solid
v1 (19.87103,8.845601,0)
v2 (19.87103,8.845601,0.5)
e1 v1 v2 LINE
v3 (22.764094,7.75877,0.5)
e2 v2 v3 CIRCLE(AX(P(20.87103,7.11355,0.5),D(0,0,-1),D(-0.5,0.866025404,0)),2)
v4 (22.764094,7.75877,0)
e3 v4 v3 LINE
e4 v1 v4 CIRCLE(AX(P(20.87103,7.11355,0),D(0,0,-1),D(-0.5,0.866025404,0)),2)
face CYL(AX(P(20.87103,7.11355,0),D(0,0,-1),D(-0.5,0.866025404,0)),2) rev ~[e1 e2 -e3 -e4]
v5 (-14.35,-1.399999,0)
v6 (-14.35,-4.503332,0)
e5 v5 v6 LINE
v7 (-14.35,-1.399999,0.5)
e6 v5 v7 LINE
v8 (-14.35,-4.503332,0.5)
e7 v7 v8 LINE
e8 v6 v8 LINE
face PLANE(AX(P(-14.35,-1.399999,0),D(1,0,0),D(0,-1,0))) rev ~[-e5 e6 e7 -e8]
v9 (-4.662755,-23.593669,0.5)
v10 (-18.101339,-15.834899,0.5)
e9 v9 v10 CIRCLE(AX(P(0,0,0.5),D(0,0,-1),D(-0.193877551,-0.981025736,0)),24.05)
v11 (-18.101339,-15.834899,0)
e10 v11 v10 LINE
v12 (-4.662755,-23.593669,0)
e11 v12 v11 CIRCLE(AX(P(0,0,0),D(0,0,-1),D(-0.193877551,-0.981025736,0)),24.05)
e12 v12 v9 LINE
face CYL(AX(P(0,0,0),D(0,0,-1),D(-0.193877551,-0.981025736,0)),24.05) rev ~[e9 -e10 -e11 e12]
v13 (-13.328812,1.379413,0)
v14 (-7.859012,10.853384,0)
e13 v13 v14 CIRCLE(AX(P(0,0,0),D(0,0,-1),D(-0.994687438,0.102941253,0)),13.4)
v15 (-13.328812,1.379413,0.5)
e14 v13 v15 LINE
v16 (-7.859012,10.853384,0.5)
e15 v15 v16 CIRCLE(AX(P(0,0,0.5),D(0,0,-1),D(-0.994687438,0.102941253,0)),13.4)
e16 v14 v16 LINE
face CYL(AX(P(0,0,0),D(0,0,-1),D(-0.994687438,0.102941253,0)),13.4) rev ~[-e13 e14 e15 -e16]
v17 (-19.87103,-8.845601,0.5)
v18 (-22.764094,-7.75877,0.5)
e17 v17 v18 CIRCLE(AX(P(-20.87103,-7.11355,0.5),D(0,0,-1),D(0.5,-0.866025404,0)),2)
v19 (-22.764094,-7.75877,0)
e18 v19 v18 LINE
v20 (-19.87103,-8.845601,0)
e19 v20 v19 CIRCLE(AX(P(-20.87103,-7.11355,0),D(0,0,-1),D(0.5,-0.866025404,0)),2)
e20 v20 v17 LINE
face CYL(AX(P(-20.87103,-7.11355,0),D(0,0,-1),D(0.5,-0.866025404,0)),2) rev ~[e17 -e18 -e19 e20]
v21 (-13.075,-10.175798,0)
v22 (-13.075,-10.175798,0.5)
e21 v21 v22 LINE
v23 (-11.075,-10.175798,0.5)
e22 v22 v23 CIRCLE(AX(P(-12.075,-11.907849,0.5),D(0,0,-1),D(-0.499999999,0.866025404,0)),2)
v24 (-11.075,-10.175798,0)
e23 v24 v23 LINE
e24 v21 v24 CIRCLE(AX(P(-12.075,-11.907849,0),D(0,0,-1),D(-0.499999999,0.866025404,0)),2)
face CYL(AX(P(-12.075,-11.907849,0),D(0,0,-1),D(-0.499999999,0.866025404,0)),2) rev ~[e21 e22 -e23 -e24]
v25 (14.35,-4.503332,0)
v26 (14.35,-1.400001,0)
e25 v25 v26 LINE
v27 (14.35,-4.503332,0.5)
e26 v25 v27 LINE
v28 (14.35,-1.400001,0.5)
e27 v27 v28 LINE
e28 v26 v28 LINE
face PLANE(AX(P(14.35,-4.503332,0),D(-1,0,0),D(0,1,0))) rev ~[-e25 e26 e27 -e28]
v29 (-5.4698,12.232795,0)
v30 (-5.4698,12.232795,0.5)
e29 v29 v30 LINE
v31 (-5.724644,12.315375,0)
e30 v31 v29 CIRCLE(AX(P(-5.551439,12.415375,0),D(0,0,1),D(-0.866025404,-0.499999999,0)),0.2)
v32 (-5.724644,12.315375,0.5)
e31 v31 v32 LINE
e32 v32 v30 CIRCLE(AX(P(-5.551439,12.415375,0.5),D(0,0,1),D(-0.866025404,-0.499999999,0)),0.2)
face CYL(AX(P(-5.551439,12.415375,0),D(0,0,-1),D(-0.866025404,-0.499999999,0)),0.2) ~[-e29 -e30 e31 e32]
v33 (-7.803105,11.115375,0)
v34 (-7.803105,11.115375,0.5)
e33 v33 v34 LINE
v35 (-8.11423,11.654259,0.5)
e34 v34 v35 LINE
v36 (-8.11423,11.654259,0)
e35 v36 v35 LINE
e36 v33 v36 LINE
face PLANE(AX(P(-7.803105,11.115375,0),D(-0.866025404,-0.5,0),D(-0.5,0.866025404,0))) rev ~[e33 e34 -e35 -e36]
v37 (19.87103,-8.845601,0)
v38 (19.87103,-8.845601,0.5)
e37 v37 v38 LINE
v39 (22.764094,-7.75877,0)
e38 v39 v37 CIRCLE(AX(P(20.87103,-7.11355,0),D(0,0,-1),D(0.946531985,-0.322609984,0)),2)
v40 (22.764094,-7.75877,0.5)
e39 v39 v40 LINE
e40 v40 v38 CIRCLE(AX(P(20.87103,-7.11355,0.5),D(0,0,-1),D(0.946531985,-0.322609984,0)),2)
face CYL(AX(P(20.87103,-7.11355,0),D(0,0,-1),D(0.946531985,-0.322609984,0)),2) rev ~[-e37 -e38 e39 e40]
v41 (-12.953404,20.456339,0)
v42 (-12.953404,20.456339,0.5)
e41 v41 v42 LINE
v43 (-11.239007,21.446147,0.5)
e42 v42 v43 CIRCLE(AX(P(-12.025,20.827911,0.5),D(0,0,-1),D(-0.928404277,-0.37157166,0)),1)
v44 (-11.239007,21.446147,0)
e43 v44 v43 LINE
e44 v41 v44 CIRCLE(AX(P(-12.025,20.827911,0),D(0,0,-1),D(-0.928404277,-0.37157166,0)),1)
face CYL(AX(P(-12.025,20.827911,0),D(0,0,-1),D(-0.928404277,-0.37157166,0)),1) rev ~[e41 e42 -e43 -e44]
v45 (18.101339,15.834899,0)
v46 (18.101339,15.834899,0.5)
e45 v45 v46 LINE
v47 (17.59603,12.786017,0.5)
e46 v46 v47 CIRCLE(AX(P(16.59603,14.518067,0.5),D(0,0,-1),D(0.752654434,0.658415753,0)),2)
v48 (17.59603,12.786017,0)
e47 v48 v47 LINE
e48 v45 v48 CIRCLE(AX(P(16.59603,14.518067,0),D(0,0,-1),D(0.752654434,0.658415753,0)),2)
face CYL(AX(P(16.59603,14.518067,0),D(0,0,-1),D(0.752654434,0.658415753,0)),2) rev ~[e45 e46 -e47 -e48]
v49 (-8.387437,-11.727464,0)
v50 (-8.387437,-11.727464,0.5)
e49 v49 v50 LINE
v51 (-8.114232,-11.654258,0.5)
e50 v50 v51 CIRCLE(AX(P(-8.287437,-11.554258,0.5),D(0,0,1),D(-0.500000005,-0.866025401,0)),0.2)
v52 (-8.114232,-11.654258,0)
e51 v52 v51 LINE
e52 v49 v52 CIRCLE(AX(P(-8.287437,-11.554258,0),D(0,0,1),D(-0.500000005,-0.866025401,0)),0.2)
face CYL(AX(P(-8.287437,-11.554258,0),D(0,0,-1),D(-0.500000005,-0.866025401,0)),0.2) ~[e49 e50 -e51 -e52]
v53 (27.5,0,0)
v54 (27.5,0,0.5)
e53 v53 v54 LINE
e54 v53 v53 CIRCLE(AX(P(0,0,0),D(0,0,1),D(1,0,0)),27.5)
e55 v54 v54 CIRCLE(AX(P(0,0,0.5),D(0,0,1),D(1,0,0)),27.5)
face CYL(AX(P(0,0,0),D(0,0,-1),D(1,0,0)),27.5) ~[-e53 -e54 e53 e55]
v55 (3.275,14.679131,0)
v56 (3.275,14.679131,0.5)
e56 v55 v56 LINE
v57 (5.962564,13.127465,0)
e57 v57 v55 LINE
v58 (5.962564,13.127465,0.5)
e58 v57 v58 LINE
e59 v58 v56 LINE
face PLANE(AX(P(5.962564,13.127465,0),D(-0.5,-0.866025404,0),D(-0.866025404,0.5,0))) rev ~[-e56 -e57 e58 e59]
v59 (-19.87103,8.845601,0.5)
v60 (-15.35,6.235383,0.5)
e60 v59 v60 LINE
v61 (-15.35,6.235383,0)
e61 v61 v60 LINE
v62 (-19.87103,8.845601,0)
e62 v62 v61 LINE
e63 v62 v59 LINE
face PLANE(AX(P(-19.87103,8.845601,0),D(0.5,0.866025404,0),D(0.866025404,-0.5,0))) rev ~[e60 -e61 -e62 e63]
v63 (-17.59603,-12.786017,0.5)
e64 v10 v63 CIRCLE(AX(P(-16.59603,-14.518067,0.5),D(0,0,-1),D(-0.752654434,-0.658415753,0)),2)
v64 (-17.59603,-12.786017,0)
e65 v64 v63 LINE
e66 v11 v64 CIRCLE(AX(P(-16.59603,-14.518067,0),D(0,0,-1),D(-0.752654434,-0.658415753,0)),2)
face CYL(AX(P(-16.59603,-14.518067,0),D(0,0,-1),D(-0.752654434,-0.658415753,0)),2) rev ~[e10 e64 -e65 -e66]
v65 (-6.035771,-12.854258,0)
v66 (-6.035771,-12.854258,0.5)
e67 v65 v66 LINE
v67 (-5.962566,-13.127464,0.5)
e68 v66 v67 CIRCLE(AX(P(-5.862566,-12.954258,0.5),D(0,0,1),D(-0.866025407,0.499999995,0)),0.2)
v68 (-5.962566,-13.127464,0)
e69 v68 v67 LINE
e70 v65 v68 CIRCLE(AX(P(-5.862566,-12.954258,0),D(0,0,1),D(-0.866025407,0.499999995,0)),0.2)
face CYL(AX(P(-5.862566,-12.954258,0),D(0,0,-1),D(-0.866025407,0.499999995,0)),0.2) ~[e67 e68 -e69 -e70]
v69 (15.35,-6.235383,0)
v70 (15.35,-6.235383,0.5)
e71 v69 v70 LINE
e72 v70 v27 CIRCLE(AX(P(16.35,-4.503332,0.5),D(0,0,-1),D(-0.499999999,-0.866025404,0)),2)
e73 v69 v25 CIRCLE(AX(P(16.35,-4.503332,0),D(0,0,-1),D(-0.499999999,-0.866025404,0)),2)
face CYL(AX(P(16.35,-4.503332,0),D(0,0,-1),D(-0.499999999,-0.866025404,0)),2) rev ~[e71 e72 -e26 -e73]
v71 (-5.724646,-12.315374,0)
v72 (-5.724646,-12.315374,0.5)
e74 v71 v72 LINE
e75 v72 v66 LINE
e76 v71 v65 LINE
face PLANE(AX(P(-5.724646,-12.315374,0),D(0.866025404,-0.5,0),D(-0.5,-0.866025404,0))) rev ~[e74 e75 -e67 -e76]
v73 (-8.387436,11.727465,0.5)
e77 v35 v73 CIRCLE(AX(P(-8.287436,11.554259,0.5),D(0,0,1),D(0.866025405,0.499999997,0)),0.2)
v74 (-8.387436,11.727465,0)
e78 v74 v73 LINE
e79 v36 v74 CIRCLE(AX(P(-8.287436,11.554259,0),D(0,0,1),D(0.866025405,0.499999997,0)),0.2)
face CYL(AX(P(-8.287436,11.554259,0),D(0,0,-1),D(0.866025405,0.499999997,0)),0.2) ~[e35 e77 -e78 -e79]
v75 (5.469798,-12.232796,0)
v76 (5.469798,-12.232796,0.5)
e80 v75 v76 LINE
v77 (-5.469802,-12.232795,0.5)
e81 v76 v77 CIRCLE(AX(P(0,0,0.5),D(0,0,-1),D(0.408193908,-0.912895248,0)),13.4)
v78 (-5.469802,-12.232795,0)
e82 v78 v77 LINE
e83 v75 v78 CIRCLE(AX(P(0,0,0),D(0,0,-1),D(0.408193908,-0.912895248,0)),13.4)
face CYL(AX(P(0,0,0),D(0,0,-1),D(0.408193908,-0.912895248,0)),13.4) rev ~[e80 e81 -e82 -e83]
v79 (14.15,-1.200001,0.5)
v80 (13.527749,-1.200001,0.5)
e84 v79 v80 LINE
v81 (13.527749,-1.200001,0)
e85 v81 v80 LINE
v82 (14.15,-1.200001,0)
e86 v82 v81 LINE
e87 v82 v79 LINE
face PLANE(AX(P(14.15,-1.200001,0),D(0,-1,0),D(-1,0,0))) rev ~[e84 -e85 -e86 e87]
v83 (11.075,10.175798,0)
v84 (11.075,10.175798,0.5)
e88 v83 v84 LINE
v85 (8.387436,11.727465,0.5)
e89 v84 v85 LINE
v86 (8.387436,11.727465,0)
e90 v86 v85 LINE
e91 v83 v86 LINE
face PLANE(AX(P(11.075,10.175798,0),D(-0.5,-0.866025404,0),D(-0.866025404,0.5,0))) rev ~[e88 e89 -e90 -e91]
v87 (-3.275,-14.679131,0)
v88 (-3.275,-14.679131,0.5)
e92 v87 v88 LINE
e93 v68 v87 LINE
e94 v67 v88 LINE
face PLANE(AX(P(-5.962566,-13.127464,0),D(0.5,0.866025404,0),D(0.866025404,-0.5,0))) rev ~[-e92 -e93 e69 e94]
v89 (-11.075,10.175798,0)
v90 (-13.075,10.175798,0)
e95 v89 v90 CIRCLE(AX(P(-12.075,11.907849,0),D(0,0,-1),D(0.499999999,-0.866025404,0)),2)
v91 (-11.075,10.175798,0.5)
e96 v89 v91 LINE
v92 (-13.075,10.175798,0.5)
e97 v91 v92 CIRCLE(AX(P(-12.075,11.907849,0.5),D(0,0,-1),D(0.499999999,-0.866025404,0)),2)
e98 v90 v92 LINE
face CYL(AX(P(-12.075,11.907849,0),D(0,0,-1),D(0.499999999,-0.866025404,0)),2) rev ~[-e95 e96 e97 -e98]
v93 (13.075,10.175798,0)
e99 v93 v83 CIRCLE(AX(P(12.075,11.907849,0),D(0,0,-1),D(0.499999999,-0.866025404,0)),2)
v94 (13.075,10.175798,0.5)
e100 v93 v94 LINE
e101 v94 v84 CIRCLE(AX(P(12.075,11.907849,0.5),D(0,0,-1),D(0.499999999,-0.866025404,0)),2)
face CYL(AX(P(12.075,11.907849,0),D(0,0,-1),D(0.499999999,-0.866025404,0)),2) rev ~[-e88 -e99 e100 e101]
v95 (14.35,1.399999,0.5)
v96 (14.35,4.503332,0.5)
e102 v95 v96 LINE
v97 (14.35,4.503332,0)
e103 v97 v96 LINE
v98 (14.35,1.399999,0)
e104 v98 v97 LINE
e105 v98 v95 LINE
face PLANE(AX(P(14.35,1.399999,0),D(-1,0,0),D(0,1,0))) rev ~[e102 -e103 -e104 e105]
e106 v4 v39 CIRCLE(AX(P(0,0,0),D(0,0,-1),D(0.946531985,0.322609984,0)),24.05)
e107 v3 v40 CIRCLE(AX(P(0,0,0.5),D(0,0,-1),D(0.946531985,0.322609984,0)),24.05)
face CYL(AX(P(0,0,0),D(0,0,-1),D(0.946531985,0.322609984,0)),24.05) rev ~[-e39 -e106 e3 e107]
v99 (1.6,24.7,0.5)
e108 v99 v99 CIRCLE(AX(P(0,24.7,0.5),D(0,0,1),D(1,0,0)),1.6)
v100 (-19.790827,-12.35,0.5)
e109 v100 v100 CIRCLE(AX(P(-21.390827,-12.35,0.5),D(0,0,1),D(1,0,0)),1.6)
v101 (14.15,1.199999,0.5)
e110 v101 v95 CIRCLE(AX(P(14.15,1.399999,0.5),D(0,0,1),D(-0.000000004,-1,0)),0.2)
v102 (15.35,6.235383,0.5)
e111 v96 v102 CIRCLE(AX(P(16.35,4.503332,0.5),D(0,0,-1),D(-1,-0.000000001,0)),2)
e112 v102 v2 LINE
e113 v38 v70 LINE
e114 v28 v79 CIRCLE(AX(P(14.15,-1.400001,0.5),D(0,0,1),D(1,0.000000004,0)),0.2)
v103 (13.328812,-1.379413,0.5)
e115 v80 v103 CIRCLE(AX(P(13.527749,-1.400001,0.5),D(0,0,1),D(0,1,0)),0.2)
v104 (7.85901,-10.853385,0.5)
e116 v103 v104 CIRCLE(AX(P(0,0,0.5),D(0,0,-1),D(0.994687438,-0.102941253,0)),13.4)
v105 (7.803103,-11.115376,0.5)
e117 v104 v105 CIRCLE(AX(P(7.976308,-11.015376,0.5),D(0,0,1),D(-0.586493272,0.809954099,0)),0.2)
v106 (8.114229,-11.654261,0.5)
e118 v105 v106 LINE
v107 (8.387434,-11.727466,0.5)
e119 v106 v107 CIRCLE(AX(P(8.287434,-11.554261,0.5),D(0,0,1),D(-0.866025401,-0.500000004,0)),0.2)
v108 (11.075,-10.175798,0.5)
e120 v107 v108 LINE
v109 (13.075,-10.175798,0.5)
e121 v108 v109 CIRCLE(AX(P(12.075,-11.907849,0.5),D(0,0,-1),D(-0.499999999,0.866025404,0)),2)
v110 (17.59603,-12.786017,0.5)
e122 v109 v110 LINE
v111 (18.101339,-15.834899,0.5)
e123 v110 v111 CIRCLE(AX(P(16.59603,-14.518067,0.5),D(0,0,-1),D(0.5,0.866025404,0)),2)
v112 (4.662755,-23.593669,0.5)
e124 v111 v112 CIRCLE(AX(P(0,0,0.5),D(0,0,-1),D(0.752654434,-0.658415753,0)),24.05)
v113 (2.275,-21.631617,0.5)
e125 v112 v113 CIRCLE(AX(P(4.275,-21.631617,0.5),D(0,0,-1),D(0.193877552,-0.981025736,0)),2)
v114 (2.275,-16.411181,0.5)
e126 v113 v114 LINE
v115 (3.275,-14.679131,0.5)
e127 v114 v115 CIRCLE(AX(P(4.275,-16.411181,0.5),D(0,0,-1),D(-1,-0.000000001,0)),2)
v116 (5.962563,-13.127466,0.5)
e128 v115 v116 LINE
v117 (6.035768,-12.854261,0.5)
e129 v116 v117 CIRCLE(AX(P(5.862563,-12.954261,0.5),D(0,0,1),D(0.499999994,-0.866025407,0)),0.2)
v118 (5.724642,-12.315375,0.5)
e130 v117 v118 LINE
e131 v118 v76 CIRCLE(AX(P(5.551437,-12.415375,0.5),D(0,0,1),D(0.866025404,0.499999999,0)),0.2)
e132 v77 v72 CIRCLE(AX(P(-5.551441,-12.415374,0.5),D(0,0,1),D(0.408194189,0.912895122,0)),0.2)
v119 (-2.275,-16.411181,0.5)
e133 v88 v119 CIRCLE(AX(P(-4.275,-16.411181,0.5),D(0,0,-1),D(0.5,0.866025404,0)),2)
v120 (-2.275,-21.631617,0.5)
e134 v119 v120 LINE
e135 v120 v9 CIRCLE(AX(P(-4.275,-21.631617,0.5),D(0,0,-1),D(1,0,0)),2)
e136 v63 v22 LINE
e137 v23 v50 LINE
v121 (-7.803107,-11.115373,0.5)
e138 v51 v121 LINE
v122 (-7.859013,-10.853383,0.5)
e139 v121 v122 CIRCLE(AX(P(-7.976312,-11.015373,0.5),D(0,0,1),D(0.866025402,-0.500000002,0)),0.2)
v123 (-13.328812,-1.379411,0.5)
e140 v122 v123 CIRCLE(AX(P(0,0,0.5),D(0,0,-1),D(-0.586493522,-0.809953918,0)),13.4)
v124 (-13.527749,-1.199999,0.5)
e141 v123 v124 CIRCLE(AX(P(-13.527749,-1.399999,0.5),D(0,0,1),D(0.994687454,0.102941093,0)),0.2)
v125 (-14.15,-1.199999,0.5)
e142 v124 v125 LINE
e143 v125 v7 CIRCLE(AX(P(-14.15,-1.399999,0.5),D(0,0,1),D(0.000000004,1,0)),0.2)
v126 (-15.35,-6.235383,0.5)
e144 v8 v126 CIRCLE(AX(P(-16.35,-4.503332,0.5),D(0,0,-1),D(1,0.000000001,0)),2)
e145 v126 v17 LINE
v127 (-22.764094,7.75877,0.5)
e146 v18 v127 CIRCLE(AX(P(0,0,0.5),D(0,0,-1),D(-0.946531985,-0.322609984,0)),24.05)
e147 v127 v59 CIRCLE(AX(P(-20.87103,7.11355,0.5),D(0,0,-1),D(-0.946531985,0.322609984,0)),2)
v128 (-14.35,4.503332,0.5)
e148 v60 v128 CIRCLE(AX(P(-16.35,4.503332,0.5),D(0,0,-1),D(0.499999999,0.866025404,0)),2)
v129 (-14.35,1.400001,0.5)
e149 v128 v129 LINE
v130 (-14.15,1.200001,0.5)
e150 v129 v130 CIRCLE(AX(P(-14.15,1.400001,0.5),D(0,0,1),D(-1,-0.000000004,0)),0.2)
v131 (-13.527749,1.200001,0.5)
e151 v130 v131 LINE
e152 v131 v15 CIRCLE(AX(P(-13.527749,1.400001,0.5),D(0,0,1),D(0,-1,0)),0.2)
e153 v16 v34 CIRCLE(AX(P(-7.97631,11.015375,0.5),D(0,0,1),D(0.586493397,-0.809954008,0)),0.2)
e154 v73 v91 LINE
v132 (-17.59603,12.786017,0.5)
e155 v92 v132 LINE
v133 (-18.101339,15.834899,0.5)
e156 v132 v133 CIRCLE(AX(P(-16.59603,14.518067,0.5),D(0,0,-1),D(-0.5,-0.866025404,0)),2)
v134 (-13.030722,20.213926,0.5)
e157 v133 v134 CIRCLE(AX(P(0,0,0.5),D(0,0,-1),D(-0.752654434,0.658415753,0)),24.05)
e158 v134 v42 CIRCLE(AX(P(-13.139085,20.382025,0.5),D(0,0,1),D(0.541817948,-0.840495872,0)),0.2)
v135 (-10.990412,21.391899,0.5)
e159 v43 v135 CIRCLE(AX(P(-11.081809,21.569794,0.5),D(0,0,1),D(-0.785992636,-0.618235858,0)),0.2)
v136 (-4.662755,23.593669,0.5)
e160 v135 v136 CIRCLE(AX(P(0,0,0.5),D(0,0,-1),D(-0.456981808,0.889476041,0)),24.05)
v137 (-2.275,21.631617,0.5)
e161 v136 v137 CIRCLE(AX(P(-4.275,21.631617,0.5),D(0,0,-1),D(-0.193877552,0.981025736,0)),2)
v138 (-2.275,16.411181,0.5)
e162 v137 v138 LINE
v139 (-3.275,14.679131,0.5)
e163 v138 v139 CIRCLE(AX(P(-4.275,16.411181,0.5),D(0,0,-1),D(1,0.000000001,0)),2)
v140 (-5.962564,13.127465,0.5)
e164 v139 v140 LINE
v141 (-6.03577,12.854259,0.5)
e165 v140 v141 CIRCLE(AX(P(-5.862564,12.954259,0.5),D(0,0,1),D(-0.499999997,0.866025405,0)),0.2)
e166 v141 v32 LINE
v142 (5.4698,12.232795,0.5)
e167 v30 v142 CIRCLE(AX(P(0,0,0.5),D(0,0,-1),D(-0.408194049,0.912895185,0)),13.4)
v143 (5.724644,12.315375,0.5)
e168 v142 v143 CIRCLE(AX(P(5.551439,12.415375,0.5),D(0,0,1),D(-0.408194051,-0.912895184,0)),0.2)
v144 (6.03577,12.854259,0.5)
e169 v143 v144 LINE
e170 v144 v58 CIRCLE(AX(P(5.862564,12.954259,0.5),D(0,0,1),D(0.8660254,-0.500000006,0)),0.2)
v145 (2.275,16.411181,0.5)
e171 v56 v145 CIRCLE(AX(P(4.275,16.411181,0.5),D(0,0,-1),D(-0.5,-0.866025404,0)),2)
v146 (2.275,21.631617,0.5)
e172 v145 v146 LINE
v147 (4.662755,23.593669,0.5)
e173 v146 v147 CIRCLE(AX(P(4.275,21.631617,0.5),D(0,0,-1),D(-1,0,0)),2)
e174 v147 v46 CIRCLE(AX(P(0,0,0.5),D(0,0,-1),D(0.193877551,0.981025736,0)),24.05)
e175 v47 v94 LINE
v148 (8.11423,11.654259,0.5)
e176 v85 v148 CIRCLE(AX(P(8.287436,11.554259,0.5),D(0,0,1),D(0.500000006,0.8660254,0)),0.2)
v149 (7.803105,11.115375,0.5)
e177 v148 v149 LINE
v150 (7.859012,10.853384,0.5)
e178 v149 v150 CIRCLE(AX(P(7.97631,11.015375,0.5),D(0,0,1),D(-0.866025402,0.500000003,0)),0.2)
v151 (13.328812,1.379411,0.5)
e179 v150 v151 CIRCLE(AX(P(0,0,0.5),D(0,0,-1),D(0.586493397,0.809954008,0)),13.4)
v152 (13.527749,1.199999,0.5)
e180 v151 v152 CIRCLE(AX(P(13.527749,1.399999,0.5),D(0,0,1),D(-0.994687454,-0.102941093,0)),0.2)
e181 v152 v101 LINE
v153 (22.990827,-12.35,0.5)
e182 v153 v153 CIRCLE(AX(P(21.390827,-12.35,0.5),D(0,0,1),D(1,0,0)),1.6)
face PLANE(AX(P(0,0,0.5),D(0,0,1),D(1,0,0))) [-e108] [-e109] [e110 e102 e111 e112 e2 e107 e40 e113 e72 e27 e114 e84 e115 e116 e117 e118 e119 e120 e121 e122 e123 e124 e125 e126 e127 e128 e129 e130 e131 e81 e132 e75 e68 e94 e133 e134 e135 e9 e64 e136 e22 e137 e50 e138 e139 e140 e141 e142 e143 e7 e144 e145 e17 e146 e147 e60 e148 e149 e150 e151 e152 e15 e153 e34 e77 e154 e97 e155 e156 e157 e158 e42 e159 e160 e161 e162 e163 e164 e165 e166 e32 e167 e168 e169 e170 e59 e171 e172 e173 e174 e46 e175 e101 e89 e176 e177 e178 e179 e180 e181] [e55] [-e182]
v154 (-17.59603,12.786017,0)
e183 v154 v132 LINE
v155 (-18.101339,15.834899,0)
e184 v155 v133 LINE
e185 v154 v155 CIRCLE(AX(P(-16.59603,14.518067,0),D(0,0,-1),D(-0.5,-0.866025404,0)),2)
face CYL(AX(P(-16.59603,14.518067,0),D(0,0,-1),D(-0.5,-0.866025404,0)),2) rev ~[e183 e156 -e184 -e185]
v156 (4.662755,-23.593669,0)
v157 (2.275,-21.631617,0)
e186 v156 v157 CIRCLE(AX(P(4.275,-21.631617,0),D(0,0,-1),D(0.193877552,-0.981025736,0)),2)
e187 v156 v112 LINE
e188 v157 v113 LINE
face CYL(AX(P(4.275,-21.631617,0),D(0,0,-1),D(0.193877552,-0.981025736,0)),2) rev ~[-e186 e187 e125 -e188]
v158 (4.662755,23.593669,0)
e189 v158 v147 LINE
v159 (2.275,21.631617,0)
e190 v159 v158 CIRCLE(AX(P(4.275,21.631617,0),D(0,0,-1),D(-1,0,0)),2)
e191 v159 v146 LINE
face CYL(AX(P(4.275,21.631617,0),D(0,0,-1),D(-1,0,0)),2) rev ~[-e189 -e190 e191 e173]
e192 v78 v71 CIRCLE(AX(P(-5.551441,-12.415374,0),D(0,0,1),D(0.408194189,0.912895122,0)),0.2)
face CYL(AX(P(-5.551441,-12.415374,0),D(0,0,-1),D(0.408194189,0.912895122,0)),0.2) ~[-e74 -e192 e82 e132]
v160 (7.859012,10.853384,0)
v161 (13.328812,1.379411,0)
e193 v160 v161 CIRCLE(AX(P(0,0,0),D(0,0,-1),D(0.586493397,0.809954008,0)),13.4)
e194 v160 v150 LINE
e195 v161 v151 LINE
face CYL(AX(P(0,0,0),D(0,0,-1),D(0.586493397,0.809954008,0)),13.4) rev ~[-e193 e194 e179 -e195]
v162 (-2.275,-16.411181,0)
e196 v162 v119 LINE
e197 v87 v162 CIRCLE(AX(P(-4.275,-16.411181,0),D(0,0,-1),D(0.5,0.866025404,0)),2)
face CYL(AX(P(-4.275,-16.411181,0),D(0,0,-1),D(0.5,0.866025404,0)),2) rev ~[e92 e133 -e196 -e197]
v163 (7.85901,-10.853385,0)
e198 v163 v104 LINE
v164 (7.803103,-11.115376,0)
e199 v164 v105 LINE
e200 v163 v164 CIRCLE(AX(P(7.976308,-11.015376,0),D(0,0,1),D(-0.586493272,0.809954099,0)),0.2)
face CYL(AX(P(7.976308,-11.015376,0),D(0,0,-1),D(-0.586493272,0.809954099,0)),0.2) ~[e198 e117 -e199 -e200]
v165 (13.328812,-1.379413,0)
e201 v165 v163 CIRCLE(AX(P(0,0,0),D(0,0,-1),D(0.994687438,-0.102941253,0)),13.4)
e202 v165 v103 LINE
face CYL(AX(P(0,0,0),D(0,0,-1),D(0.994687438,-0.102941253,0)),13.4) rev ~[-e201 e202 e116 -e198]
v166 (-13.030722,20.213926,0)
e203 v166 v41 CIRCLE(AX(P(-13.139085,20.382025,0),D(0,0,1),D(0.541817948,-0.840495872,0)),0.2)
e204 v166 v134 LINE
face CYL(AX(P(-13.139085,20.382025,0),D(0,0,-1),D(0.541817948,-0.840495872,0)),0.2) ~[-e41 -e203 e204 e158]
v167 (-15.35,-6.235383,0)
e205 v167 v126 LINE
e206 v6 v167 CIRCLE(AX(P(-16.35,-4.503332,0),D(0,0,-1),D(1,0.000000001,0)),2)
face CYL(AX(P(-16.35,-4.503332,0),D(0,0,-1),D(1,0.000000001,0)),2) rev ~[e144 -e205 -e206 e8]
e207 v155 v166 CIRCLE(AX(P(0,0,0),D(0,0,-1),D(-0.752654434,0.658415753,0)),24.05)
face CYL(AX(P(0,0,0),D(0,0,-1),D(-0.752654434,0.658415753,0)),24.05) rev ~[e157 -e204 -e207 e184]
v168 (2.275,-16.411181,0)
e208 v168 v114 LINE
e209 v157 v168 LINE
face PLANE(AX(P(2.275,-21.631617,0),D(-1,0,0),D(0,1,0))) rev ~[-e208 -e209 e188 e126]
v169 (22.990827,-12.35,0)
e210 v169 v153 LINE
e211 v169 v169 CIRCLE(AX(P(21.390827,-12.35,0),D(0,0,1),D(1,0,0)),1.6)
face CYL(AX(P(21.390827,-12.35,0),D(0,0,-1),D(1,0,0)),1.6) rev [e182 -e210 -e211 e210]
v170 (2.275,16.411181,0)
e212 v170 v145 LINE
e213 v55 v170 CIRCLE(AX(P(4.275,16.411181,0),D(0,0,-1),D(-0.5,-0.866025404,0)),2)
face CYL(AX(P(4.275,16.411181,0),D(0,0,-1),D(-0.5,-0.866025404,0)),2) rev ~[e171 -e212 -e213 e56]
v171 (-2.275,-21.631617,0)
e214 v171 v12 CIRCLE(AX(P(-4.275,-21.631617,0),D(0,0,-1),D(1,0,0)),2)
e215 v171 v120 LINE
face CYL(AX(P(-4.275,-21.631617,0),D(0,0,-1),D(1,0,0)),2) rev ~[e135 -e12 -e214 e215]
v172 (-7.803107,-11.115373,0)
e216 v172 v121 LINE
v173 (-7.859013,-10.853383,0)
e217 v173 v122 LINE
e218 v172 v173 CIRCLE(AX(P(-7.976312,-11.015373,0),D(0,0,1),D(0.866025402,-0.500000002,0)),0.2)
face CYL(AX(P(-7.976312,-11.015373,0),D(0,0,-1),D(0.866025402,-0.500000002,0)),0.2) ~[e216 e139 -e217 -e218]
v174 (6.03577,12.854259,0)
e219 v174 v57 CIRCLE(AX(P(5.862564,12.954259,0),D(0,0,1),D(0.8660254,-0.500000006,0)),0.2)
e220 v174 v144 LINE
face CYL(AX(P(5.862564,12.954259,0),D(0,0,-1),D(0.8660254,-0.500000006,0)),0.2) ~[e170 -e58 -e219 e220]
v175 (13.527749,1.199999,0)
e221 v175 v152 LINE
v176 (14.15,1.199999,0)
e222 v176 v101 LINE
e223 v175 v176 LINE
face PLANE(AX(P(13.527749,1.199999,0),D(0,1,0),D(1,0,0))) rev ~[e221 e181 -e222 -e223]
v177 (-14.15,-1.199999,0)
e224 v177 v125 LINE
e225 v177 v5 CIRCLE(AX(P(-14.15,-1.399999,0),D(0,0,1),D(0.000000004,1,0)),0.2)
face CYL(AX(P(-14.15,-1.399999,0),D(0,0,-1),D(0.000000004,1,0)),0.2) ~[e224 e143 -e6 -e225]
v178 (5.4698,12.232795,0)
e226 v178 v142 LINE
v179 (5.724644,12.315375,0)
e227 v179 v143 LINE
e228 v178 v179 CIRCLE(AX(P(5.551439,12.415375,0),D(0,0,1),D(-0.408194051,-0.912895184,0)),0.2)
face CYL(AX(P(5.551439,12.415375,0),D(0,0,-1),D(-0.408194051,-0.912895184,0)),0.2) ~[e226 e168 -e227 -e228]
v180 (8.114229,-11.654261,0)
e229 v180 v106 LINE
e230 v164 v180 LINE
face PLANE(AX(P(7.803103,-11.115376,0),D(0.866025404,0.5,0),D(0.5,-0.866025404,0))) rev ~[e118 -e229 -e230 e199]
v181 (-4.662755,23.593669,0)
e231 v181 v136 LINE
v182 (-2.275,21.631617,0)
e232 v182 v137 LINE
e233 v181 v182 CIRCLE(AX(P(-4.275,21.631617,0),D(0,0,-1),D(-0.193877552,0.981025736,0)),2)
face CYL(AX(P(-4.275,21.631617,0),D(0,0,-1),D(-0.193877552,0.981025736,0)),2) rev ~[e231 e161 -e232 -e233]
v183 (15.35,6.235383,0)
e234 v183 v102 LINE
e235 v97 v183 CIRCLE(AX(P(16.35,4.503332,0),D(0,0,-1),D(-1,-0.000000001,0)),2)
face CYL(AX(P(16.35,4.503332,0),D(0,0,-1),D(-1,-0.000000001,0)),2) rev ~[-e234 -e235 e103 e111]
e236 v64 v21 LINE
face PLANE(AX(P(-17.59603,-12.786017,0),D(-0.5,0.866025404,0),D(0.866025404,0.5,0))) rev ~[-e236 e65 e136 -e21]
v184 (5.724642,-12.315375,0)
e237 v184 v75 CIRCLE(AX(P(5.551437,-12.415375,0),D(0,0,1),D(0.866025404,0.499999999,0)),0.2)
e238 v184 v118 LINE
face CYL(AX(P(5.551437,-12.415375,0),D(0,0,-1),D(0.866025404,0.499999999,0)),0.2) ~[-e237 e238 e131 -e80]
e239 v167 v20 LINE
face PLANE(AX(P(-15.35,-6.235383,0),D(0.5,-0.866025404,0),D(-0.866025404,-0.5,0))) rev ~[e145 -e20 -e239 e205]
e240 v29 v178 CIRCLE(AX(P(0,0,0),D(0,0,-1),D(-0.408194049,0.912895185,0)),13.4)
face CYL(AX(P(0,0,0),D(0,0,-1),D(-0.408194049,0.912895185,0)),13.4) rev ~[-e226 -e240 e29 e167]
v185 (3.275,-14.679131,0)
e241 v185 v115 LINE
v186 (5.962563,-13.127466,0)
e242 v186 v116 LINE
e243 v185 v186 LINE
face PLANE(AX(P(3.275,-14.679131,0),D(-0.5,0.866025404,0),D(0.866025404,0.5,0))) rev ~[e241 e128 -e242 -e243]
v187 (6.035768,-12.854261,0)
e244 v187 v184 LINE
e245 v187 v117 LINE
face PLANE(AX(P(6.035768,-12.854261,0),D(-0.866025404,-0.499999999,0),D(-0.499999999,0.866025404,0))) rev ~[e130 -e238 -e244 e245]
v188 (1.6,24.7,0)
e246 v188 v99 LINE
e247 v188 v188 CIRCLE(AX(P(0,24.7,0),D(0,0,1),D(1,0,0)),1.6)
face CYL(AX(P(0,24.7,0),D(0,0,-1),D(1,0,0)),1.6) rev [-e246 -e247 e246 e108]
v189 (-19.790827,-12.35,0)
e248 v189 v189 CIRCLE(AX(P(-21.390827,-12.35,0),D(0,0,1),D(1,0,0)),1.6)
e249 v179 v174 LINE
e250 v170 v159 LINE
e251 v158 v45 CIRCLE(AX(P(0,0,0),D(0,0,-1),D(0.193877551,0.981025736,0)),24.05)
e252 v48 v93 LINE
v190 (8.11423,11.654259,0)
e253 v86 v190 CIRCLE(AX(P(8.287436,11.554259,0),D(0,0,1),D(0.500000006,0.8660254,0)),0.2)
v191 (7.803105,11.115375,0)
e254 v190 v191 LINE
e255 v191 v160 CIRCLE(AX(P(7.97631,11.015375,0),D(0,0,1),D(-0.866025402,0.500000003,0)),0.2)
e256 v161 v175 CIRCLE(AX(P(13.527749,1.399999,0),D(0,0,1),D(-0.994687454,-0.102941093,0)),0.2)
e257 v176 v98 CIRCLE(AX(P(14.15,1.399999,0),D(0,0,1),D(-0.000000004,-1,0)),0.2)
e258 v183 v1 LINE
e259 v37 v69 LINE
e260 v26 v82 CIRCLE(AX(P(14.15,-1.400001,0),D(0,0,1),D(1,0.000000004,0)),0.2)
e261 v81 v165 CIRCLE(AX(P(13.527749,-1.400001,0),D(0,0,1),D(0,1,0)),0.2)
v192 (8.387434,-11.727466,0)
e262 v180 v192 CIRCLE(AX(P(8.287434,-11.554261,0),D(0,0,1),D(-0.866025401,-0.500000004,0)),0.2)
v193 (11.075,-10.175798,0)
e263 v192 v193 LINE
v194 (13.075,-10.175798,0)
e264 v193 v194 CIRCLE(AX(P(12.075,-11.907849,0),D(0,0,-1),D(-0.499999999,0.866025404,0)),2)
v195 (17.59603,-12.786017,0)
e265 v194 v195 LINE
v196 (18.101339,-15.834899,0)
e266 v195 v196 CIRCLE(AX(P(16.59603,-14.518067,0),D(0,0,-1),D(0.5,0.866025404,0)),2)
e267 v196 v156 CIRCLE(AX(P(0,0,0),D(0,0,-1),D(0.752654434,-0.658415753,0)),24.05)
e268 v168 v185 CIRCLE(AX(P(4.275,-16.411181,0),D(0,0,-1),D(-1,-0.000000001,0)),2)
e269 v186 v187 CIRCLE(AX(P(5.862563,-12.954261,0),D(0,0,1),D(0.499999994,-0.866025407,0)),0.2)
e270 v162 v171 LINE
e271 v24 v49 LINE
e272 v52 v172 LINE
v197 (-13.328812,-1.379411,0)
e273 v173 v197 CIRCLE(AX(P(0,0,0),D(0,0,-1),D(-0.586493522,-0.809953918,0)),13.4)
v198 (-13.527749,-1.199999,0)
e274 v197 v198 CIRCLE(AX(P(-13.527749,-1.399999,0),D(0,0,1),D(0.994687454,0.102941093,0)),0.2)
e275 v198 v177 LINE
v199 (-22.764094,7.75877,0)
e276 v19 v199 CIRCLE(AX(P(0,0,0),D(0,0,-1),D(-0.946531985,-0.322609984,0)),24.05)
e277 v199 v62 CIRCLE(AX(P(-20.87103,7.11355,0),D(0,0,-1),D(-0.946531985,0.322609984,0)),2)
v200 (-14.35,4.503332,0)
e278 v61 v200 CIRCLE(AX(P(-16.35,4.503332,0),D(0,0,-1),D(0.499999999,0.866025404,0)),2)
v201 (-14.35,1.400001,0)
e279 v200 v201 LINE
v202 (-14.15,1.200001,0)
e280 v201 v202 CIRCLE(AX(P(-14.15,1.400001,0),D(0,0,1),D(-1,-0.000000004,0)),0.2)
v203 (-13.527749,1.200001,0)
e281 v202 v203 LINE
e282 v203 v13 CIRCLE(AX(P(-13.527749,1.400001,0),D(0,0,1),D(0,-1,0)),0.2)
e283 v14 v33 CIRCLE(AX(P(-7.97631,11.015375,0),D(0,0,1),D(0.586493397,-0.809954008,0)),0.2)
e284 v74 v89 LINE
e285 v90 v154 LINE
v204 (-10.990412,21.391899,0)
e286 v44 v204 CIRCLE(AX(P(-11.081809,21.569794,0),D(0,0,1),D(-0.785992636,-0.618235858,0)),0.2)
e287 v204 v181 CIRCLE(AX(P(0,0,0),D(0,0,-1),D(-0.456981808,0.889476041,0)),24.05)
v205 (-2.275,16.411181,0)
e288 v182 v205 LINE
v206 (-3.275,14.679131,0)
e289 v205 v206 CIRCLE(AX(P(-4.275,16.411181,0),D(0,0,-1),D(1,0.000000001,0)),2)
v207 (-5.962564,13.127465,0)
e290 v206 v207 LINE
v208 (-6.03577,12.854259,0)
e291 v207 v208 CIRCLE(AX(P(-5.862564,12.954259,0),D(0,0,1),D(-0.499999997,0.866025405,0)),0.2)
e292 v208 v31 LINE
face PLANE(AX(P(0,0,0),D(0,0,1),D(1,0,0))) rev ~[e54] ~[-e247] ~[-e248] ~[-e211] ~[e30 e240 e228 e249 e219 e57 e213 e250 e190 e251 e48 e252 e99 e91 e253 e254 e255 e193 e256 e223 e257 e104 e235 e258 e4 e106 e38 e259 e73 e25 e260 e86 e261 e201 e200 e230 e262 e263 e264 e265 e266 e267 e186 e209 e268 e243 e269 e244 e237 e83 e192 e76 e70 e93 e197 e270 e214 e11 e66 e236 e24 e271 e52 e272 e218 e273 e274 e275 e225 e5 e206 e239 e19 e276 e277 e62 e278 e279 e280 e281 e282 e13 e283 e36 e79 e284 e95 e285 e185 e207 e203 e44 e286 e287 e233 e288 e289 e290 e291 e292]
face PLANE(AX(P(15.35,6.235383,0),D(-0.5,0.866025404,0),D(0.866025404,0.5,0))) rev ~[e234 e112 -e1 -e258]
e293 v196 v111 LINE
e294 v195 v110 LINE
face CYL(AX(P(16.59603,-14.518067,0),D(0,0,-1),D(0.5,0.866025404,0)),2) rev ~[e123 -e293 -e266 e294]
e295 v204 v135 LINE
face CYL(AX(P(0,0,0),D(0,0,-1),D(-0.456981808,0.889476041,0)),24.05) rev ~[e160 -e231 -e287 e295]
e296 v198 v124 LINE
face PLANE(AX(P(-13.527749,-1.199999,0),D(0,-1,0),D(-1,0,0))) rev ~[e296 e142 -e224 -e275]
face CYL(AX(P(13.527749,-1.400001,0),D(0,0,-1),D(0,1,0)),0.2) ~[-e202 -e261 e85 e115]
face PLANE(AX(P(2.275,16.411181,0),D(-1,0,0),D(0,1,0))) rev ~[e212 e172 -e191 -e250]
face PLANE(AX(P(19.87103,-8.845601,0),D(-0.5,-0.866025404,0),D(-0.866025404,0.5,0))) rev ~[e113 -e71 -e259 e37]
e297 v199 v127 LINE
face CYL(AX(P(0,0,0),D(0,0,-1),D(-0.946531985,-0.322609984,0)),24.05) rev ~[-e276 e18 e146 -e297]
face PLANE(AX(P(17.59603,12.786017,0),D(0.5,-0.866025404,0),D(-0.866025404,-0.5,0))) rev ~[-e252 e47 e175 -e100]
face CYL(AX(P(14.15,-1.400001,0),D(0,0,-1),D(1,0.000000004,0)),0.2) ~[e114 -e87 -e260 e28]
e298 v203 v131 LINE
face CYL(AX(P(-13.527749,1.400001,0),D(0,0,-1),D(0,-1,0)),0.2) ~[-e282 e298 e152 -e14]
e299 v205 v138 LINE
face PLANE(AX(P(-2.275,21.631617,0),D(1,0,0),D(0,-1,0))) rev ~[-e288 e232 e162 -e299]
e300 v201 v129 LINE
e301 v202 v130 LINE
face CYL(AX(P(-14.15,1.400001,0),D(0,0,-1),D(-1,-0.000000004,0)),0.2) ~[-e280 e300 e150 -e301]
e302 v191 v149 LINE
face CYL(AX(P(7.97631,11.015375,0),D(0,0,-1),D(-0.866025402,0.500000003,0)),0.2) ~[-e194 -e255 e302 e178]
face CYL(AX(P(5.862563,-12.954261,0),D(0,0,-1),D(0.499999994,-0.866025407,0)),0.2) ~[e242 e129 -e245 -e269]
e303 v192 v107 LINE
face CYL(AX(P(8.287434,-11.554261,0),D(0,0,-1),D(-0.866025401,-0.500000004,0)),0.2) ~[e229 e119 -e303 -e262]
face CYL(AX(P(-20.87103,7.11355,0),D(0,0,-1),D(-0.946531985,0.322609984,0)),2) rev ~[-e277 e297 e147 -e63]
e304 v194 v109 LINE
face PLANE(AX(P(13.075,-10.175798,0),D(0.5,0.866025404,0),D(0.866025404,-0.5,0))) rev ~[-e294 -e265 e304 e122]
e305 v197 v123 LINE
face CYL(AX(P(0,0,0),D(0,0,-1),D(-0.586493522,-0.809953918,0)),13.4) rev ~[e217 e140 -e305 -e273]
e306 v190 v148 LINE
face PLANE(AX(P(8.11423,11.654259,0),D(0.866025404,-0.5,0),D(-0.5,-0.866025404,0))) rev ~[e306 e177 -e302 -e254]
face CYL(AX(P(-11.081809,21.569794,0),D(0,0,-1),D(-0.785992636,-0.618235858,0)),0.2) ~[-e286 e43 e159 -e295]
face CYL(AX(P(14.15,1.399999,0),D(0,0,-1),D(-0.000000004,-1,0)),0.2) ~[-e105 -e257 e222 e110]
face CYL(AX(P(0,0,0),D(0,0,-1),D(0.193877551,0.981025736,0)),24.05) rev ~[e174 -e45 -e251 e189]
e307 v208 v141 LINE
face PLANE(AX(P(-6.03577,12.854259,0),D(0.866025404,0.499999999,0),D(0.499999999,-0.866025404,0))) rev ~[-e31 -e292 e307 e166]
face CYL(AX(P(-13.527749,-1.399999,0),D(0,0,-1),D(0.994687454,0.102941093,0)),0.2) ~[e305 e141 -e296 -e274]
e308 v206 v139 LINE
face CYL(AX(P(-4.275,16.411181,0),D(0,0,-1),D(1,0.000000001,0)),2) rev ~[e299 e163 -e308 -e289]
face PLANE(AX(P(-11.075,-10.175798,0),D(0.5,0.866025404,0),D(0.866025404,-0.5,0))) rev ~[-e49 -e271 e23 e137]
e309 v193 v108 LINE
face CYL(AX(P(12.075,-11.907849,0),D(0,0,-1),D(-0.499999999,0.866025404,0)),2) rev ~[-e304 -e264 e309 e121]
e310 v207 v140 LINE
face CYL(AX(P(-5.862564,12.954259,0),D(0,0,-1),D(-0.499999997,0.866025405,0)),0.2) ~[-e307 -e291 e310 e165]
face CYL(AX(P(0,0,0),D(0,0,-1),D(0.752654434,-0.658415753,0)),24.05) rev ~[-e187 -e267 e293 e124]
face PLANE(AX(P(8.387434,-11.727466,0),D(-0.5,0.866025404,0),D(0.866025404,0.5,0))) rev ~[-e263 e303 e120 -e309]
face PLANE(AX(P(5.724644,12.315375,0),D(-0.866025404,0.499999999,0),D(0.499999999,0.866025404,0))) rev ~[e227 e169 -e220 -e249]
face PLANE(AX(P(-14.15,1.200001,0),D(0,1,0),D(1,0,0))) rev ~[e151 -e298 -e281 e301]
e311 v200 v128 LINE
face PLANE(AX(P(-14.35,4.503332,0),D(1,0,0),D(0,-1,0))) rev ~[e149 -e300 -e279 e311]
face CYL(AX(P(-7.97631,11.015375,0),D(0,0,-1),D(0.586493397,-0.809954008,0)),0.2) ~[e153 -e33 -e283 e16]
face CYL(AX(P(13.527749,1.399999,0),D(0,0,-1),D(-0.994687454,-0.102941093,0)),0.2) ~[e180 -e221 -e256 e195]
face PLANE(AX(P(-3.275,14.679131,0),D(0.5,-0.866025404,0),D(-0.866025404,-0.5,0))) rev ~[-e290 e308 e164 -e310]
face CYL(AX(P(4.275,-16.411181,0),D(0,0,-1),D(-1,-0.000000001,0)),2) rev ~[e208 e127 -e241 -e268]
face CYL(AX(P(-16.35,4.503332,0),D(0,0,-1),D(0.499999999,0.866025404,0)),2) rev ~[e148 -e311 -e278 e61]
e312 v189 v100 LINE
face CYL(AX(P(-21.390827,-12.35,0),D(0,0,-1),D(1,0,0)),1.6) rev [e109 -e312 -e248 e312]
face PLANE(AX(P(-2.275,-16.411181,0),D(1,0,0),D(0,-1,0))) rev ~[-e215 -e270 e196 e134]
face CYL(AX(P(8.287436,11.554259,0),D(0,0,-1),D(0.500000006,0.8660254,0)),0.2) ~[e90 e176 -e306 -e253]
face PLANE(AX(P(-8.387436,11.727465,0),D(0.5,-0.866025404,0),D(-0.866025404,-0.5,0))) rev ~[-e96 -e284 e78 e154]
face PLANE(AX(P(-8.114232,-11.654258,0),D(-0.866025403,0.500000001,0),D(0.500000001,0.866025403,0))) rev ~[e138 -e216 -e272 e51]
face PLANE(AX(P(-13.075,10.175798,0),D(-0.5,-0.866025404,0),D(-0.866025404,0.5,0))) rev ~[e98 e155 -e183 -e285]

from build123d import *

# Parameters (mm, degrees)
IZIM1_R                     = 27.5
IZIM1_R_2                   = 1.6
Y_KSEKLIK_EKSTR_ZYON1_DEPTH = 0.5


with BuildPart() as part:
    # Çizim1 → Yükseklik-Ekstrüzyon1 (new body)
    with BuildSketch(Plane.XY):
        Circle(IZIM1_R)
        with Locations((0, 24.7)):
            Circle(IZIM1_R_2, mode=Mode.SUBTRACT)
        with Locations((21.390827473, -12.35)):
            Circle(IZIM1_R_2, mode=Mode.SUBTRACT)
        with Locations((-21.390827473, -12.35)):
            Circle(IZIM1_R_2, mode=Mode.SUBTRACT)
        with BuildLine():
            Line((5.962564435, 13.127464544), (3.275, 14.679130594))
            ThreePointArc((3.275, 14.679130594), (2.542949192, 15.411181402), (2.275, 16.411181402))
            Line((2.275, 16.411181402), (2.275, 21.631617485))
            ThreePointArc((2.275, 21.631617485), (3.00525794, 23.176853746), (4.662755102, 23.593668957))
            ThreePointArc((4.662755102, 23.593668957), (12.025, 20.827910961), (18.101339134, 15.834898849))
            ThreePointArc((18.101339134, 15.834898849), (18.569115153, 14.191056594), (17.596030267, 12.786016536))
            Line((17.596030267, 12.786016536), (13.075, 10.175798494))
            ThreePointArc((13.075, 10.175798494), (12.075, 9.907849302), (11.075, 10.175798494))
            Line((11.075, 10.175798494), (8.387435565, 11.727464544))
            ThreePointArc((8.387435565, 11.727464544), (8.235671756, 11.747444629), (8.114230485, 11.654259464))
            Line((8.114230485, 11.654259464), (7.803105114, 11.115374514))
            ThreePointArc((7.803105114, 11.115374514), (7.780713917, 10.973636087), (7.859011515, 10.853383712))
            ThreePointArc((7.859011515, 10.853383712), (11.604740669, 6.699999553), (13.328811876, 1.379410738))
            ThreePointArc((13.328811876, 1.379410738), (13.393804684, 1.251476831), (13.527749366, 1.199998958))
            Line((13.527749366, 1.199998958), (14.15, 1.199998958))
            ThreePointArc((14.15, 1.199998958), (14.291421356, 1.258577601), (14.35, 1.399998958))
            Line((14.35, 1.399998958), (14.35, 4.5033321))
            ThreePointArc((14.35, 4.5033321), (14.617949192, 5.5033321), (15.35, 6.235382907))
            Line((15.35, 6.235382907), (19.871030267, 8.845600949))
            ThreePointArc((19.871030267, 8.845600949), (21.574373094, 8.985797151), (22.764094236, 7.758770109))
            ThreePointArc((22.764094236, 7.758770109), (24.05, 0), (22.764094236, -7.758770109))
            ThreePointArc((22.764094236, -7.758770109), (21.574373094, -8.985797151), (19.871030267, -8.845600949))
            Line((19.871030267, -8.845600949), (15.35, -6.235382907))
            ThreePointArc((15.35, -6.235382907), (14.617949192, -5.5033321), (14.35, -4.5033321))
            Line((14.35, -4.5033321), (14.35, -1.400001042))
            ThreePointArc((14.35, -1.400001042), (14.291421356, -1.258579686), (14.15, -1.200001042))
            Line((14.15, -1.200001042), (13.527749151, -1.200001042))
            ThreePointArc((13.527749151, -1.200001042), (13.393804479, -1.251478906), (13.328811663, -1.379412792))
            ThreePointArc((13.328811663, -1.379412792), (11.604739636, -6.700001341), (7.859009843, -10.853384923))
            ThreePointArc((7.859009843, -10.853384923), (7.780712223, -10.973637301), (7.803103416, -11.115375743))
            Line((7.803103416, -11.115375743), (8.114228679, -11.654260506))
            ThreePointArc((8.114228679, -11.654260506), (8.235669951, -11.747445671), (8.38743376, -11.727465587))
            Line((8.38743376, -11.727465587), (11.075, -10.175798494))
            ThreePointArc((11.075, -10.175798494), (12.075, -9.907849302), (13.075, -10.175798494))
            Line((13.075, -10.175798494), (17.596030267, -12.786016536))
            ThreePointArc((17.596030267, -12.786016536), (18.569115153, -14.191056594), (18.101339134, -15.834898849))
            ThreePointArc((18.101339134, -15.834898849), (12.025, -20.827910961), (4.662755102, -23.593668957))
            ThreePointArc((4.662755102, -23.593668957), (3.00525794, -23.176853746), (2.275, -21.631617485))
            Line((2.275, -21.631617485), (2.275, -16.411181402))
            ThreePointArc((2.275, -16.411181402), (2.542949192, -15.411181402), (3.275, -14.679130594))
            Line((3.275, -14.679130594), (5.962562629, -13.127465587))
            ThreePointArc((5.962562629, -13.127465587), (6.055747795, -13.006024315), (6.03576771, -12.854260506))
            Line((6.03576771, -12.854260506), (5.724642232, -12.315375369))
            ThreePointArc((5.724642232, -12.315375369), (5.613088766, -12.225114815), (5.469798369, -12.23279632))
            ThreePointArc((5.469798369, -12.23279632), (-2.065e-06, -13.4), (-5.469802139, -12.232794634))
            ThreePointArc((-5.469802139, -12.232794634), (-5.613092563, -12.225113095), (-5.724646058, -12.315373658))
            Line((-5.724646058, -12.315373658), (-6.035771321, -12.854258421))
            ThreePointArc((-6.035771321, -12.854258421), (-6.055751405, -13.00602223), (-5.96256624, -13.127463502))
            Line((-5.96256624, -13.127463502), (-3.275, -14.679130594))
            ThreePointArc((-3.275, -14.679130594), (-2.542949192, -15.411181402), (-2.275, -16.411181402))
            Line((-2.275, -16.411181402), (-2.275, -21.631617485))
            ThreePointArc((-2.275, -21.631617485), (-3.00525794, -23.176853746), (-4.662755102, -23.593668957))
            ThreePointArc((-4.662755102, -23.593668957), (-12.025, -20.827910961), (-18.101339134, -15.834898849))
            ThreePointArc((-18.101339134, -15.834898849), (-18.569115153, -14.191056594), (-17.596030267, -12.786016536))
            Line((-17.596030267, -12.786016536), (-13.075, -10.175798494))
            ThreePointArc((-13.075, -10.175798494), (-12.075, -9.907849302), (-11.075, -10.175798494))
            Line((-11.075, -10.175798494), (-8.387437371, -11.727463502))
            ThreePointArc((-8.387437371, -11.727463502), (-8.235673562, -11.747443587), (-8.11423229, -11.654258421))
            Line((-8.11423229, -11.654258421), (-7.803106811, -11.115373285))
            ThreePointArc((-7.803106811, -11.115373285), (-7.780715611, -10.973634873), (-7.859013188, -10.853382501))
            ThreePointArc((-7.859013188, -10.853382501), (-11.604741185, -6.699998659), (-13.328811876, -1.379410738))
            ThreePointArc((-13.328811876, -1.379410738), (-13.393804684, -1.251476831), (-13.527749366, -1.199998958))
            Line((-13.527749366, -1.199998958), (-14.15, -1.199998958))
            ThreePointArc((-14.15, -1.199998958), (-14.291421356, -1.258577601), (-14.35, -1.399998958))
            Line((-14.35, -1.399998958), (-14.35, -4.5033321))
            ThreePointArc((-14.35, -4.5033321), (-14.617949192, -5.5033321), (-15.35, -6.235382907))
            Line((-15.35, -6.235382907), (-19.871030267, -8.845600949))
            ThreePointArc((-19.871030267, -8.845600949), (-21.574373094, -8.985797151), (-22.764094236, -7.758770109))
            ThreePointArc((-22.764094236, -7.758770109), (-24.05, 0), (-22.764094236, 7.758770109))
            ThreePointArc((-22.764094236, 7.758770109), (-21.574373094, 8.985797151), (-19.871030267, 8.845600949))
            Line((-19.871030267, 8.845600949), (-15.35, 6.235382907))
            ThreePointArc((-15.35, 6.235382907), (-14.617949192, 5.5033321), (-14.35, 4.5033321))
            Line((-14.35, 4.5033321), (-14.35, 1.400001042))
            ThreePointArc((-14.35, 1.400001042), (-14.291421356, 1.258579686), (-14.15, 1.200001042))
            Line((-14.15, 1.200001042), (-13.527749151, 1.200001042))
            ThreePointArc((-13.527749151, 1.200001042), (-13.393804479, 1.251478906), (-13.328811663, 1.379412792))
            ThreePointArc((-13.328811663, 1.379412792), (-11.604740153, 6.700000447), (-7.859011515, 10.853383712))
            ThreePointArc((-7.859011515, 10.853383712), (-7.780713917, 10.973636087), (-7.803105114, 11.115374514))
            Line((-7.803105114, 11.115374514), (-8.114230485, 11.654259464))
            ThreePointArc((-8.114230485, 11.654259464), (-8.235671756, 11.747444629), (-8.387435565, 11.727464544))
            Line((-8.387435565, 11.727464544), (-11.075, 10.175798494))
            ThreePointArc((-11.075, 10.175798494), (-12.075, 9.907849302), (-13.075, 10.175798494))
            Line((-13.075, 10.175798494), (-17.596030267, 12.786016536))
            ThreePointArc((-17.596030267, 12.786016536), (-18.569115153, 14.191056594), (-18.101339134, 15.834898849))
            ThreePointArc((-18.101339134, 15.834898849), (-15.719264288, 18.201846891), (-13.030721544, 20.213925795))
            ThreePointArc((-13.030721544, 20.213925795), (-12.948542196, 20.32125171), (-12.953404277, 20.456339302))
            ThreePointArc((-12.953404277, 20.456339302), (-12.525, 21.693936365), (-11.239007365, 21.44614682))
            ThreePointArc((-11.239007365, 21.44614682), (-11.12444912, 21.374392338), (-10.990412477, 21.391898784))
            ThreePointArc((-10.990412477, 21.391898784), (-7.903629659, 22.714205648), (-4.662755102, 23.593668957))
            ThreePointArc((-4.662755102, 23.593668957), (-3.00525794, 23.176853746), (-2.275, 21.631617485))
            Line((-2.275, 21.631617485), (-2.275, 16.411181402))
            ThreePointArc((-2.275, 16.411181402), (-2.542949192, 15.411181402), (-3.275, 14.679130594))
            Line((-3.275, 14.679130594), (-5.962564435, 13.127464544))
            ThreePointArc((-5.962564435, 13.127464544), (-6.0557496, 13.006023273), (-6.035769515, 12.854259464))
            Line((-6.035769515, 12.854259464), (-5.724644145, 12.315374514))
            ThreePointArc((-5.724644145, 12.315374514), (-5.613090664, 12.225113955), (-5.469800254, 12.232795477))
            ThreePointArc((-5.469800254, 12.232795477), (0, 13.4), (5.469800254, 12.232795477))
            ThreePointArc((5.469800254, 12.232795477), (5.613090664, 12.225113955), (5.724644145, 12.315374514))
            Line((5.724644145, 12.315374514), (6.035769515, 12.854259464))
            ThreePointArc((6.035769515, 12.854259464), (6.0557496, 13.006023273), (5.962564435, 13.127464544))
        make_face(mode=Mode.SUBTRACT)
    extrude(amount=Y_KSEKLIK_EKSTR_ZYON1_DEPTH)


solid = part.part
